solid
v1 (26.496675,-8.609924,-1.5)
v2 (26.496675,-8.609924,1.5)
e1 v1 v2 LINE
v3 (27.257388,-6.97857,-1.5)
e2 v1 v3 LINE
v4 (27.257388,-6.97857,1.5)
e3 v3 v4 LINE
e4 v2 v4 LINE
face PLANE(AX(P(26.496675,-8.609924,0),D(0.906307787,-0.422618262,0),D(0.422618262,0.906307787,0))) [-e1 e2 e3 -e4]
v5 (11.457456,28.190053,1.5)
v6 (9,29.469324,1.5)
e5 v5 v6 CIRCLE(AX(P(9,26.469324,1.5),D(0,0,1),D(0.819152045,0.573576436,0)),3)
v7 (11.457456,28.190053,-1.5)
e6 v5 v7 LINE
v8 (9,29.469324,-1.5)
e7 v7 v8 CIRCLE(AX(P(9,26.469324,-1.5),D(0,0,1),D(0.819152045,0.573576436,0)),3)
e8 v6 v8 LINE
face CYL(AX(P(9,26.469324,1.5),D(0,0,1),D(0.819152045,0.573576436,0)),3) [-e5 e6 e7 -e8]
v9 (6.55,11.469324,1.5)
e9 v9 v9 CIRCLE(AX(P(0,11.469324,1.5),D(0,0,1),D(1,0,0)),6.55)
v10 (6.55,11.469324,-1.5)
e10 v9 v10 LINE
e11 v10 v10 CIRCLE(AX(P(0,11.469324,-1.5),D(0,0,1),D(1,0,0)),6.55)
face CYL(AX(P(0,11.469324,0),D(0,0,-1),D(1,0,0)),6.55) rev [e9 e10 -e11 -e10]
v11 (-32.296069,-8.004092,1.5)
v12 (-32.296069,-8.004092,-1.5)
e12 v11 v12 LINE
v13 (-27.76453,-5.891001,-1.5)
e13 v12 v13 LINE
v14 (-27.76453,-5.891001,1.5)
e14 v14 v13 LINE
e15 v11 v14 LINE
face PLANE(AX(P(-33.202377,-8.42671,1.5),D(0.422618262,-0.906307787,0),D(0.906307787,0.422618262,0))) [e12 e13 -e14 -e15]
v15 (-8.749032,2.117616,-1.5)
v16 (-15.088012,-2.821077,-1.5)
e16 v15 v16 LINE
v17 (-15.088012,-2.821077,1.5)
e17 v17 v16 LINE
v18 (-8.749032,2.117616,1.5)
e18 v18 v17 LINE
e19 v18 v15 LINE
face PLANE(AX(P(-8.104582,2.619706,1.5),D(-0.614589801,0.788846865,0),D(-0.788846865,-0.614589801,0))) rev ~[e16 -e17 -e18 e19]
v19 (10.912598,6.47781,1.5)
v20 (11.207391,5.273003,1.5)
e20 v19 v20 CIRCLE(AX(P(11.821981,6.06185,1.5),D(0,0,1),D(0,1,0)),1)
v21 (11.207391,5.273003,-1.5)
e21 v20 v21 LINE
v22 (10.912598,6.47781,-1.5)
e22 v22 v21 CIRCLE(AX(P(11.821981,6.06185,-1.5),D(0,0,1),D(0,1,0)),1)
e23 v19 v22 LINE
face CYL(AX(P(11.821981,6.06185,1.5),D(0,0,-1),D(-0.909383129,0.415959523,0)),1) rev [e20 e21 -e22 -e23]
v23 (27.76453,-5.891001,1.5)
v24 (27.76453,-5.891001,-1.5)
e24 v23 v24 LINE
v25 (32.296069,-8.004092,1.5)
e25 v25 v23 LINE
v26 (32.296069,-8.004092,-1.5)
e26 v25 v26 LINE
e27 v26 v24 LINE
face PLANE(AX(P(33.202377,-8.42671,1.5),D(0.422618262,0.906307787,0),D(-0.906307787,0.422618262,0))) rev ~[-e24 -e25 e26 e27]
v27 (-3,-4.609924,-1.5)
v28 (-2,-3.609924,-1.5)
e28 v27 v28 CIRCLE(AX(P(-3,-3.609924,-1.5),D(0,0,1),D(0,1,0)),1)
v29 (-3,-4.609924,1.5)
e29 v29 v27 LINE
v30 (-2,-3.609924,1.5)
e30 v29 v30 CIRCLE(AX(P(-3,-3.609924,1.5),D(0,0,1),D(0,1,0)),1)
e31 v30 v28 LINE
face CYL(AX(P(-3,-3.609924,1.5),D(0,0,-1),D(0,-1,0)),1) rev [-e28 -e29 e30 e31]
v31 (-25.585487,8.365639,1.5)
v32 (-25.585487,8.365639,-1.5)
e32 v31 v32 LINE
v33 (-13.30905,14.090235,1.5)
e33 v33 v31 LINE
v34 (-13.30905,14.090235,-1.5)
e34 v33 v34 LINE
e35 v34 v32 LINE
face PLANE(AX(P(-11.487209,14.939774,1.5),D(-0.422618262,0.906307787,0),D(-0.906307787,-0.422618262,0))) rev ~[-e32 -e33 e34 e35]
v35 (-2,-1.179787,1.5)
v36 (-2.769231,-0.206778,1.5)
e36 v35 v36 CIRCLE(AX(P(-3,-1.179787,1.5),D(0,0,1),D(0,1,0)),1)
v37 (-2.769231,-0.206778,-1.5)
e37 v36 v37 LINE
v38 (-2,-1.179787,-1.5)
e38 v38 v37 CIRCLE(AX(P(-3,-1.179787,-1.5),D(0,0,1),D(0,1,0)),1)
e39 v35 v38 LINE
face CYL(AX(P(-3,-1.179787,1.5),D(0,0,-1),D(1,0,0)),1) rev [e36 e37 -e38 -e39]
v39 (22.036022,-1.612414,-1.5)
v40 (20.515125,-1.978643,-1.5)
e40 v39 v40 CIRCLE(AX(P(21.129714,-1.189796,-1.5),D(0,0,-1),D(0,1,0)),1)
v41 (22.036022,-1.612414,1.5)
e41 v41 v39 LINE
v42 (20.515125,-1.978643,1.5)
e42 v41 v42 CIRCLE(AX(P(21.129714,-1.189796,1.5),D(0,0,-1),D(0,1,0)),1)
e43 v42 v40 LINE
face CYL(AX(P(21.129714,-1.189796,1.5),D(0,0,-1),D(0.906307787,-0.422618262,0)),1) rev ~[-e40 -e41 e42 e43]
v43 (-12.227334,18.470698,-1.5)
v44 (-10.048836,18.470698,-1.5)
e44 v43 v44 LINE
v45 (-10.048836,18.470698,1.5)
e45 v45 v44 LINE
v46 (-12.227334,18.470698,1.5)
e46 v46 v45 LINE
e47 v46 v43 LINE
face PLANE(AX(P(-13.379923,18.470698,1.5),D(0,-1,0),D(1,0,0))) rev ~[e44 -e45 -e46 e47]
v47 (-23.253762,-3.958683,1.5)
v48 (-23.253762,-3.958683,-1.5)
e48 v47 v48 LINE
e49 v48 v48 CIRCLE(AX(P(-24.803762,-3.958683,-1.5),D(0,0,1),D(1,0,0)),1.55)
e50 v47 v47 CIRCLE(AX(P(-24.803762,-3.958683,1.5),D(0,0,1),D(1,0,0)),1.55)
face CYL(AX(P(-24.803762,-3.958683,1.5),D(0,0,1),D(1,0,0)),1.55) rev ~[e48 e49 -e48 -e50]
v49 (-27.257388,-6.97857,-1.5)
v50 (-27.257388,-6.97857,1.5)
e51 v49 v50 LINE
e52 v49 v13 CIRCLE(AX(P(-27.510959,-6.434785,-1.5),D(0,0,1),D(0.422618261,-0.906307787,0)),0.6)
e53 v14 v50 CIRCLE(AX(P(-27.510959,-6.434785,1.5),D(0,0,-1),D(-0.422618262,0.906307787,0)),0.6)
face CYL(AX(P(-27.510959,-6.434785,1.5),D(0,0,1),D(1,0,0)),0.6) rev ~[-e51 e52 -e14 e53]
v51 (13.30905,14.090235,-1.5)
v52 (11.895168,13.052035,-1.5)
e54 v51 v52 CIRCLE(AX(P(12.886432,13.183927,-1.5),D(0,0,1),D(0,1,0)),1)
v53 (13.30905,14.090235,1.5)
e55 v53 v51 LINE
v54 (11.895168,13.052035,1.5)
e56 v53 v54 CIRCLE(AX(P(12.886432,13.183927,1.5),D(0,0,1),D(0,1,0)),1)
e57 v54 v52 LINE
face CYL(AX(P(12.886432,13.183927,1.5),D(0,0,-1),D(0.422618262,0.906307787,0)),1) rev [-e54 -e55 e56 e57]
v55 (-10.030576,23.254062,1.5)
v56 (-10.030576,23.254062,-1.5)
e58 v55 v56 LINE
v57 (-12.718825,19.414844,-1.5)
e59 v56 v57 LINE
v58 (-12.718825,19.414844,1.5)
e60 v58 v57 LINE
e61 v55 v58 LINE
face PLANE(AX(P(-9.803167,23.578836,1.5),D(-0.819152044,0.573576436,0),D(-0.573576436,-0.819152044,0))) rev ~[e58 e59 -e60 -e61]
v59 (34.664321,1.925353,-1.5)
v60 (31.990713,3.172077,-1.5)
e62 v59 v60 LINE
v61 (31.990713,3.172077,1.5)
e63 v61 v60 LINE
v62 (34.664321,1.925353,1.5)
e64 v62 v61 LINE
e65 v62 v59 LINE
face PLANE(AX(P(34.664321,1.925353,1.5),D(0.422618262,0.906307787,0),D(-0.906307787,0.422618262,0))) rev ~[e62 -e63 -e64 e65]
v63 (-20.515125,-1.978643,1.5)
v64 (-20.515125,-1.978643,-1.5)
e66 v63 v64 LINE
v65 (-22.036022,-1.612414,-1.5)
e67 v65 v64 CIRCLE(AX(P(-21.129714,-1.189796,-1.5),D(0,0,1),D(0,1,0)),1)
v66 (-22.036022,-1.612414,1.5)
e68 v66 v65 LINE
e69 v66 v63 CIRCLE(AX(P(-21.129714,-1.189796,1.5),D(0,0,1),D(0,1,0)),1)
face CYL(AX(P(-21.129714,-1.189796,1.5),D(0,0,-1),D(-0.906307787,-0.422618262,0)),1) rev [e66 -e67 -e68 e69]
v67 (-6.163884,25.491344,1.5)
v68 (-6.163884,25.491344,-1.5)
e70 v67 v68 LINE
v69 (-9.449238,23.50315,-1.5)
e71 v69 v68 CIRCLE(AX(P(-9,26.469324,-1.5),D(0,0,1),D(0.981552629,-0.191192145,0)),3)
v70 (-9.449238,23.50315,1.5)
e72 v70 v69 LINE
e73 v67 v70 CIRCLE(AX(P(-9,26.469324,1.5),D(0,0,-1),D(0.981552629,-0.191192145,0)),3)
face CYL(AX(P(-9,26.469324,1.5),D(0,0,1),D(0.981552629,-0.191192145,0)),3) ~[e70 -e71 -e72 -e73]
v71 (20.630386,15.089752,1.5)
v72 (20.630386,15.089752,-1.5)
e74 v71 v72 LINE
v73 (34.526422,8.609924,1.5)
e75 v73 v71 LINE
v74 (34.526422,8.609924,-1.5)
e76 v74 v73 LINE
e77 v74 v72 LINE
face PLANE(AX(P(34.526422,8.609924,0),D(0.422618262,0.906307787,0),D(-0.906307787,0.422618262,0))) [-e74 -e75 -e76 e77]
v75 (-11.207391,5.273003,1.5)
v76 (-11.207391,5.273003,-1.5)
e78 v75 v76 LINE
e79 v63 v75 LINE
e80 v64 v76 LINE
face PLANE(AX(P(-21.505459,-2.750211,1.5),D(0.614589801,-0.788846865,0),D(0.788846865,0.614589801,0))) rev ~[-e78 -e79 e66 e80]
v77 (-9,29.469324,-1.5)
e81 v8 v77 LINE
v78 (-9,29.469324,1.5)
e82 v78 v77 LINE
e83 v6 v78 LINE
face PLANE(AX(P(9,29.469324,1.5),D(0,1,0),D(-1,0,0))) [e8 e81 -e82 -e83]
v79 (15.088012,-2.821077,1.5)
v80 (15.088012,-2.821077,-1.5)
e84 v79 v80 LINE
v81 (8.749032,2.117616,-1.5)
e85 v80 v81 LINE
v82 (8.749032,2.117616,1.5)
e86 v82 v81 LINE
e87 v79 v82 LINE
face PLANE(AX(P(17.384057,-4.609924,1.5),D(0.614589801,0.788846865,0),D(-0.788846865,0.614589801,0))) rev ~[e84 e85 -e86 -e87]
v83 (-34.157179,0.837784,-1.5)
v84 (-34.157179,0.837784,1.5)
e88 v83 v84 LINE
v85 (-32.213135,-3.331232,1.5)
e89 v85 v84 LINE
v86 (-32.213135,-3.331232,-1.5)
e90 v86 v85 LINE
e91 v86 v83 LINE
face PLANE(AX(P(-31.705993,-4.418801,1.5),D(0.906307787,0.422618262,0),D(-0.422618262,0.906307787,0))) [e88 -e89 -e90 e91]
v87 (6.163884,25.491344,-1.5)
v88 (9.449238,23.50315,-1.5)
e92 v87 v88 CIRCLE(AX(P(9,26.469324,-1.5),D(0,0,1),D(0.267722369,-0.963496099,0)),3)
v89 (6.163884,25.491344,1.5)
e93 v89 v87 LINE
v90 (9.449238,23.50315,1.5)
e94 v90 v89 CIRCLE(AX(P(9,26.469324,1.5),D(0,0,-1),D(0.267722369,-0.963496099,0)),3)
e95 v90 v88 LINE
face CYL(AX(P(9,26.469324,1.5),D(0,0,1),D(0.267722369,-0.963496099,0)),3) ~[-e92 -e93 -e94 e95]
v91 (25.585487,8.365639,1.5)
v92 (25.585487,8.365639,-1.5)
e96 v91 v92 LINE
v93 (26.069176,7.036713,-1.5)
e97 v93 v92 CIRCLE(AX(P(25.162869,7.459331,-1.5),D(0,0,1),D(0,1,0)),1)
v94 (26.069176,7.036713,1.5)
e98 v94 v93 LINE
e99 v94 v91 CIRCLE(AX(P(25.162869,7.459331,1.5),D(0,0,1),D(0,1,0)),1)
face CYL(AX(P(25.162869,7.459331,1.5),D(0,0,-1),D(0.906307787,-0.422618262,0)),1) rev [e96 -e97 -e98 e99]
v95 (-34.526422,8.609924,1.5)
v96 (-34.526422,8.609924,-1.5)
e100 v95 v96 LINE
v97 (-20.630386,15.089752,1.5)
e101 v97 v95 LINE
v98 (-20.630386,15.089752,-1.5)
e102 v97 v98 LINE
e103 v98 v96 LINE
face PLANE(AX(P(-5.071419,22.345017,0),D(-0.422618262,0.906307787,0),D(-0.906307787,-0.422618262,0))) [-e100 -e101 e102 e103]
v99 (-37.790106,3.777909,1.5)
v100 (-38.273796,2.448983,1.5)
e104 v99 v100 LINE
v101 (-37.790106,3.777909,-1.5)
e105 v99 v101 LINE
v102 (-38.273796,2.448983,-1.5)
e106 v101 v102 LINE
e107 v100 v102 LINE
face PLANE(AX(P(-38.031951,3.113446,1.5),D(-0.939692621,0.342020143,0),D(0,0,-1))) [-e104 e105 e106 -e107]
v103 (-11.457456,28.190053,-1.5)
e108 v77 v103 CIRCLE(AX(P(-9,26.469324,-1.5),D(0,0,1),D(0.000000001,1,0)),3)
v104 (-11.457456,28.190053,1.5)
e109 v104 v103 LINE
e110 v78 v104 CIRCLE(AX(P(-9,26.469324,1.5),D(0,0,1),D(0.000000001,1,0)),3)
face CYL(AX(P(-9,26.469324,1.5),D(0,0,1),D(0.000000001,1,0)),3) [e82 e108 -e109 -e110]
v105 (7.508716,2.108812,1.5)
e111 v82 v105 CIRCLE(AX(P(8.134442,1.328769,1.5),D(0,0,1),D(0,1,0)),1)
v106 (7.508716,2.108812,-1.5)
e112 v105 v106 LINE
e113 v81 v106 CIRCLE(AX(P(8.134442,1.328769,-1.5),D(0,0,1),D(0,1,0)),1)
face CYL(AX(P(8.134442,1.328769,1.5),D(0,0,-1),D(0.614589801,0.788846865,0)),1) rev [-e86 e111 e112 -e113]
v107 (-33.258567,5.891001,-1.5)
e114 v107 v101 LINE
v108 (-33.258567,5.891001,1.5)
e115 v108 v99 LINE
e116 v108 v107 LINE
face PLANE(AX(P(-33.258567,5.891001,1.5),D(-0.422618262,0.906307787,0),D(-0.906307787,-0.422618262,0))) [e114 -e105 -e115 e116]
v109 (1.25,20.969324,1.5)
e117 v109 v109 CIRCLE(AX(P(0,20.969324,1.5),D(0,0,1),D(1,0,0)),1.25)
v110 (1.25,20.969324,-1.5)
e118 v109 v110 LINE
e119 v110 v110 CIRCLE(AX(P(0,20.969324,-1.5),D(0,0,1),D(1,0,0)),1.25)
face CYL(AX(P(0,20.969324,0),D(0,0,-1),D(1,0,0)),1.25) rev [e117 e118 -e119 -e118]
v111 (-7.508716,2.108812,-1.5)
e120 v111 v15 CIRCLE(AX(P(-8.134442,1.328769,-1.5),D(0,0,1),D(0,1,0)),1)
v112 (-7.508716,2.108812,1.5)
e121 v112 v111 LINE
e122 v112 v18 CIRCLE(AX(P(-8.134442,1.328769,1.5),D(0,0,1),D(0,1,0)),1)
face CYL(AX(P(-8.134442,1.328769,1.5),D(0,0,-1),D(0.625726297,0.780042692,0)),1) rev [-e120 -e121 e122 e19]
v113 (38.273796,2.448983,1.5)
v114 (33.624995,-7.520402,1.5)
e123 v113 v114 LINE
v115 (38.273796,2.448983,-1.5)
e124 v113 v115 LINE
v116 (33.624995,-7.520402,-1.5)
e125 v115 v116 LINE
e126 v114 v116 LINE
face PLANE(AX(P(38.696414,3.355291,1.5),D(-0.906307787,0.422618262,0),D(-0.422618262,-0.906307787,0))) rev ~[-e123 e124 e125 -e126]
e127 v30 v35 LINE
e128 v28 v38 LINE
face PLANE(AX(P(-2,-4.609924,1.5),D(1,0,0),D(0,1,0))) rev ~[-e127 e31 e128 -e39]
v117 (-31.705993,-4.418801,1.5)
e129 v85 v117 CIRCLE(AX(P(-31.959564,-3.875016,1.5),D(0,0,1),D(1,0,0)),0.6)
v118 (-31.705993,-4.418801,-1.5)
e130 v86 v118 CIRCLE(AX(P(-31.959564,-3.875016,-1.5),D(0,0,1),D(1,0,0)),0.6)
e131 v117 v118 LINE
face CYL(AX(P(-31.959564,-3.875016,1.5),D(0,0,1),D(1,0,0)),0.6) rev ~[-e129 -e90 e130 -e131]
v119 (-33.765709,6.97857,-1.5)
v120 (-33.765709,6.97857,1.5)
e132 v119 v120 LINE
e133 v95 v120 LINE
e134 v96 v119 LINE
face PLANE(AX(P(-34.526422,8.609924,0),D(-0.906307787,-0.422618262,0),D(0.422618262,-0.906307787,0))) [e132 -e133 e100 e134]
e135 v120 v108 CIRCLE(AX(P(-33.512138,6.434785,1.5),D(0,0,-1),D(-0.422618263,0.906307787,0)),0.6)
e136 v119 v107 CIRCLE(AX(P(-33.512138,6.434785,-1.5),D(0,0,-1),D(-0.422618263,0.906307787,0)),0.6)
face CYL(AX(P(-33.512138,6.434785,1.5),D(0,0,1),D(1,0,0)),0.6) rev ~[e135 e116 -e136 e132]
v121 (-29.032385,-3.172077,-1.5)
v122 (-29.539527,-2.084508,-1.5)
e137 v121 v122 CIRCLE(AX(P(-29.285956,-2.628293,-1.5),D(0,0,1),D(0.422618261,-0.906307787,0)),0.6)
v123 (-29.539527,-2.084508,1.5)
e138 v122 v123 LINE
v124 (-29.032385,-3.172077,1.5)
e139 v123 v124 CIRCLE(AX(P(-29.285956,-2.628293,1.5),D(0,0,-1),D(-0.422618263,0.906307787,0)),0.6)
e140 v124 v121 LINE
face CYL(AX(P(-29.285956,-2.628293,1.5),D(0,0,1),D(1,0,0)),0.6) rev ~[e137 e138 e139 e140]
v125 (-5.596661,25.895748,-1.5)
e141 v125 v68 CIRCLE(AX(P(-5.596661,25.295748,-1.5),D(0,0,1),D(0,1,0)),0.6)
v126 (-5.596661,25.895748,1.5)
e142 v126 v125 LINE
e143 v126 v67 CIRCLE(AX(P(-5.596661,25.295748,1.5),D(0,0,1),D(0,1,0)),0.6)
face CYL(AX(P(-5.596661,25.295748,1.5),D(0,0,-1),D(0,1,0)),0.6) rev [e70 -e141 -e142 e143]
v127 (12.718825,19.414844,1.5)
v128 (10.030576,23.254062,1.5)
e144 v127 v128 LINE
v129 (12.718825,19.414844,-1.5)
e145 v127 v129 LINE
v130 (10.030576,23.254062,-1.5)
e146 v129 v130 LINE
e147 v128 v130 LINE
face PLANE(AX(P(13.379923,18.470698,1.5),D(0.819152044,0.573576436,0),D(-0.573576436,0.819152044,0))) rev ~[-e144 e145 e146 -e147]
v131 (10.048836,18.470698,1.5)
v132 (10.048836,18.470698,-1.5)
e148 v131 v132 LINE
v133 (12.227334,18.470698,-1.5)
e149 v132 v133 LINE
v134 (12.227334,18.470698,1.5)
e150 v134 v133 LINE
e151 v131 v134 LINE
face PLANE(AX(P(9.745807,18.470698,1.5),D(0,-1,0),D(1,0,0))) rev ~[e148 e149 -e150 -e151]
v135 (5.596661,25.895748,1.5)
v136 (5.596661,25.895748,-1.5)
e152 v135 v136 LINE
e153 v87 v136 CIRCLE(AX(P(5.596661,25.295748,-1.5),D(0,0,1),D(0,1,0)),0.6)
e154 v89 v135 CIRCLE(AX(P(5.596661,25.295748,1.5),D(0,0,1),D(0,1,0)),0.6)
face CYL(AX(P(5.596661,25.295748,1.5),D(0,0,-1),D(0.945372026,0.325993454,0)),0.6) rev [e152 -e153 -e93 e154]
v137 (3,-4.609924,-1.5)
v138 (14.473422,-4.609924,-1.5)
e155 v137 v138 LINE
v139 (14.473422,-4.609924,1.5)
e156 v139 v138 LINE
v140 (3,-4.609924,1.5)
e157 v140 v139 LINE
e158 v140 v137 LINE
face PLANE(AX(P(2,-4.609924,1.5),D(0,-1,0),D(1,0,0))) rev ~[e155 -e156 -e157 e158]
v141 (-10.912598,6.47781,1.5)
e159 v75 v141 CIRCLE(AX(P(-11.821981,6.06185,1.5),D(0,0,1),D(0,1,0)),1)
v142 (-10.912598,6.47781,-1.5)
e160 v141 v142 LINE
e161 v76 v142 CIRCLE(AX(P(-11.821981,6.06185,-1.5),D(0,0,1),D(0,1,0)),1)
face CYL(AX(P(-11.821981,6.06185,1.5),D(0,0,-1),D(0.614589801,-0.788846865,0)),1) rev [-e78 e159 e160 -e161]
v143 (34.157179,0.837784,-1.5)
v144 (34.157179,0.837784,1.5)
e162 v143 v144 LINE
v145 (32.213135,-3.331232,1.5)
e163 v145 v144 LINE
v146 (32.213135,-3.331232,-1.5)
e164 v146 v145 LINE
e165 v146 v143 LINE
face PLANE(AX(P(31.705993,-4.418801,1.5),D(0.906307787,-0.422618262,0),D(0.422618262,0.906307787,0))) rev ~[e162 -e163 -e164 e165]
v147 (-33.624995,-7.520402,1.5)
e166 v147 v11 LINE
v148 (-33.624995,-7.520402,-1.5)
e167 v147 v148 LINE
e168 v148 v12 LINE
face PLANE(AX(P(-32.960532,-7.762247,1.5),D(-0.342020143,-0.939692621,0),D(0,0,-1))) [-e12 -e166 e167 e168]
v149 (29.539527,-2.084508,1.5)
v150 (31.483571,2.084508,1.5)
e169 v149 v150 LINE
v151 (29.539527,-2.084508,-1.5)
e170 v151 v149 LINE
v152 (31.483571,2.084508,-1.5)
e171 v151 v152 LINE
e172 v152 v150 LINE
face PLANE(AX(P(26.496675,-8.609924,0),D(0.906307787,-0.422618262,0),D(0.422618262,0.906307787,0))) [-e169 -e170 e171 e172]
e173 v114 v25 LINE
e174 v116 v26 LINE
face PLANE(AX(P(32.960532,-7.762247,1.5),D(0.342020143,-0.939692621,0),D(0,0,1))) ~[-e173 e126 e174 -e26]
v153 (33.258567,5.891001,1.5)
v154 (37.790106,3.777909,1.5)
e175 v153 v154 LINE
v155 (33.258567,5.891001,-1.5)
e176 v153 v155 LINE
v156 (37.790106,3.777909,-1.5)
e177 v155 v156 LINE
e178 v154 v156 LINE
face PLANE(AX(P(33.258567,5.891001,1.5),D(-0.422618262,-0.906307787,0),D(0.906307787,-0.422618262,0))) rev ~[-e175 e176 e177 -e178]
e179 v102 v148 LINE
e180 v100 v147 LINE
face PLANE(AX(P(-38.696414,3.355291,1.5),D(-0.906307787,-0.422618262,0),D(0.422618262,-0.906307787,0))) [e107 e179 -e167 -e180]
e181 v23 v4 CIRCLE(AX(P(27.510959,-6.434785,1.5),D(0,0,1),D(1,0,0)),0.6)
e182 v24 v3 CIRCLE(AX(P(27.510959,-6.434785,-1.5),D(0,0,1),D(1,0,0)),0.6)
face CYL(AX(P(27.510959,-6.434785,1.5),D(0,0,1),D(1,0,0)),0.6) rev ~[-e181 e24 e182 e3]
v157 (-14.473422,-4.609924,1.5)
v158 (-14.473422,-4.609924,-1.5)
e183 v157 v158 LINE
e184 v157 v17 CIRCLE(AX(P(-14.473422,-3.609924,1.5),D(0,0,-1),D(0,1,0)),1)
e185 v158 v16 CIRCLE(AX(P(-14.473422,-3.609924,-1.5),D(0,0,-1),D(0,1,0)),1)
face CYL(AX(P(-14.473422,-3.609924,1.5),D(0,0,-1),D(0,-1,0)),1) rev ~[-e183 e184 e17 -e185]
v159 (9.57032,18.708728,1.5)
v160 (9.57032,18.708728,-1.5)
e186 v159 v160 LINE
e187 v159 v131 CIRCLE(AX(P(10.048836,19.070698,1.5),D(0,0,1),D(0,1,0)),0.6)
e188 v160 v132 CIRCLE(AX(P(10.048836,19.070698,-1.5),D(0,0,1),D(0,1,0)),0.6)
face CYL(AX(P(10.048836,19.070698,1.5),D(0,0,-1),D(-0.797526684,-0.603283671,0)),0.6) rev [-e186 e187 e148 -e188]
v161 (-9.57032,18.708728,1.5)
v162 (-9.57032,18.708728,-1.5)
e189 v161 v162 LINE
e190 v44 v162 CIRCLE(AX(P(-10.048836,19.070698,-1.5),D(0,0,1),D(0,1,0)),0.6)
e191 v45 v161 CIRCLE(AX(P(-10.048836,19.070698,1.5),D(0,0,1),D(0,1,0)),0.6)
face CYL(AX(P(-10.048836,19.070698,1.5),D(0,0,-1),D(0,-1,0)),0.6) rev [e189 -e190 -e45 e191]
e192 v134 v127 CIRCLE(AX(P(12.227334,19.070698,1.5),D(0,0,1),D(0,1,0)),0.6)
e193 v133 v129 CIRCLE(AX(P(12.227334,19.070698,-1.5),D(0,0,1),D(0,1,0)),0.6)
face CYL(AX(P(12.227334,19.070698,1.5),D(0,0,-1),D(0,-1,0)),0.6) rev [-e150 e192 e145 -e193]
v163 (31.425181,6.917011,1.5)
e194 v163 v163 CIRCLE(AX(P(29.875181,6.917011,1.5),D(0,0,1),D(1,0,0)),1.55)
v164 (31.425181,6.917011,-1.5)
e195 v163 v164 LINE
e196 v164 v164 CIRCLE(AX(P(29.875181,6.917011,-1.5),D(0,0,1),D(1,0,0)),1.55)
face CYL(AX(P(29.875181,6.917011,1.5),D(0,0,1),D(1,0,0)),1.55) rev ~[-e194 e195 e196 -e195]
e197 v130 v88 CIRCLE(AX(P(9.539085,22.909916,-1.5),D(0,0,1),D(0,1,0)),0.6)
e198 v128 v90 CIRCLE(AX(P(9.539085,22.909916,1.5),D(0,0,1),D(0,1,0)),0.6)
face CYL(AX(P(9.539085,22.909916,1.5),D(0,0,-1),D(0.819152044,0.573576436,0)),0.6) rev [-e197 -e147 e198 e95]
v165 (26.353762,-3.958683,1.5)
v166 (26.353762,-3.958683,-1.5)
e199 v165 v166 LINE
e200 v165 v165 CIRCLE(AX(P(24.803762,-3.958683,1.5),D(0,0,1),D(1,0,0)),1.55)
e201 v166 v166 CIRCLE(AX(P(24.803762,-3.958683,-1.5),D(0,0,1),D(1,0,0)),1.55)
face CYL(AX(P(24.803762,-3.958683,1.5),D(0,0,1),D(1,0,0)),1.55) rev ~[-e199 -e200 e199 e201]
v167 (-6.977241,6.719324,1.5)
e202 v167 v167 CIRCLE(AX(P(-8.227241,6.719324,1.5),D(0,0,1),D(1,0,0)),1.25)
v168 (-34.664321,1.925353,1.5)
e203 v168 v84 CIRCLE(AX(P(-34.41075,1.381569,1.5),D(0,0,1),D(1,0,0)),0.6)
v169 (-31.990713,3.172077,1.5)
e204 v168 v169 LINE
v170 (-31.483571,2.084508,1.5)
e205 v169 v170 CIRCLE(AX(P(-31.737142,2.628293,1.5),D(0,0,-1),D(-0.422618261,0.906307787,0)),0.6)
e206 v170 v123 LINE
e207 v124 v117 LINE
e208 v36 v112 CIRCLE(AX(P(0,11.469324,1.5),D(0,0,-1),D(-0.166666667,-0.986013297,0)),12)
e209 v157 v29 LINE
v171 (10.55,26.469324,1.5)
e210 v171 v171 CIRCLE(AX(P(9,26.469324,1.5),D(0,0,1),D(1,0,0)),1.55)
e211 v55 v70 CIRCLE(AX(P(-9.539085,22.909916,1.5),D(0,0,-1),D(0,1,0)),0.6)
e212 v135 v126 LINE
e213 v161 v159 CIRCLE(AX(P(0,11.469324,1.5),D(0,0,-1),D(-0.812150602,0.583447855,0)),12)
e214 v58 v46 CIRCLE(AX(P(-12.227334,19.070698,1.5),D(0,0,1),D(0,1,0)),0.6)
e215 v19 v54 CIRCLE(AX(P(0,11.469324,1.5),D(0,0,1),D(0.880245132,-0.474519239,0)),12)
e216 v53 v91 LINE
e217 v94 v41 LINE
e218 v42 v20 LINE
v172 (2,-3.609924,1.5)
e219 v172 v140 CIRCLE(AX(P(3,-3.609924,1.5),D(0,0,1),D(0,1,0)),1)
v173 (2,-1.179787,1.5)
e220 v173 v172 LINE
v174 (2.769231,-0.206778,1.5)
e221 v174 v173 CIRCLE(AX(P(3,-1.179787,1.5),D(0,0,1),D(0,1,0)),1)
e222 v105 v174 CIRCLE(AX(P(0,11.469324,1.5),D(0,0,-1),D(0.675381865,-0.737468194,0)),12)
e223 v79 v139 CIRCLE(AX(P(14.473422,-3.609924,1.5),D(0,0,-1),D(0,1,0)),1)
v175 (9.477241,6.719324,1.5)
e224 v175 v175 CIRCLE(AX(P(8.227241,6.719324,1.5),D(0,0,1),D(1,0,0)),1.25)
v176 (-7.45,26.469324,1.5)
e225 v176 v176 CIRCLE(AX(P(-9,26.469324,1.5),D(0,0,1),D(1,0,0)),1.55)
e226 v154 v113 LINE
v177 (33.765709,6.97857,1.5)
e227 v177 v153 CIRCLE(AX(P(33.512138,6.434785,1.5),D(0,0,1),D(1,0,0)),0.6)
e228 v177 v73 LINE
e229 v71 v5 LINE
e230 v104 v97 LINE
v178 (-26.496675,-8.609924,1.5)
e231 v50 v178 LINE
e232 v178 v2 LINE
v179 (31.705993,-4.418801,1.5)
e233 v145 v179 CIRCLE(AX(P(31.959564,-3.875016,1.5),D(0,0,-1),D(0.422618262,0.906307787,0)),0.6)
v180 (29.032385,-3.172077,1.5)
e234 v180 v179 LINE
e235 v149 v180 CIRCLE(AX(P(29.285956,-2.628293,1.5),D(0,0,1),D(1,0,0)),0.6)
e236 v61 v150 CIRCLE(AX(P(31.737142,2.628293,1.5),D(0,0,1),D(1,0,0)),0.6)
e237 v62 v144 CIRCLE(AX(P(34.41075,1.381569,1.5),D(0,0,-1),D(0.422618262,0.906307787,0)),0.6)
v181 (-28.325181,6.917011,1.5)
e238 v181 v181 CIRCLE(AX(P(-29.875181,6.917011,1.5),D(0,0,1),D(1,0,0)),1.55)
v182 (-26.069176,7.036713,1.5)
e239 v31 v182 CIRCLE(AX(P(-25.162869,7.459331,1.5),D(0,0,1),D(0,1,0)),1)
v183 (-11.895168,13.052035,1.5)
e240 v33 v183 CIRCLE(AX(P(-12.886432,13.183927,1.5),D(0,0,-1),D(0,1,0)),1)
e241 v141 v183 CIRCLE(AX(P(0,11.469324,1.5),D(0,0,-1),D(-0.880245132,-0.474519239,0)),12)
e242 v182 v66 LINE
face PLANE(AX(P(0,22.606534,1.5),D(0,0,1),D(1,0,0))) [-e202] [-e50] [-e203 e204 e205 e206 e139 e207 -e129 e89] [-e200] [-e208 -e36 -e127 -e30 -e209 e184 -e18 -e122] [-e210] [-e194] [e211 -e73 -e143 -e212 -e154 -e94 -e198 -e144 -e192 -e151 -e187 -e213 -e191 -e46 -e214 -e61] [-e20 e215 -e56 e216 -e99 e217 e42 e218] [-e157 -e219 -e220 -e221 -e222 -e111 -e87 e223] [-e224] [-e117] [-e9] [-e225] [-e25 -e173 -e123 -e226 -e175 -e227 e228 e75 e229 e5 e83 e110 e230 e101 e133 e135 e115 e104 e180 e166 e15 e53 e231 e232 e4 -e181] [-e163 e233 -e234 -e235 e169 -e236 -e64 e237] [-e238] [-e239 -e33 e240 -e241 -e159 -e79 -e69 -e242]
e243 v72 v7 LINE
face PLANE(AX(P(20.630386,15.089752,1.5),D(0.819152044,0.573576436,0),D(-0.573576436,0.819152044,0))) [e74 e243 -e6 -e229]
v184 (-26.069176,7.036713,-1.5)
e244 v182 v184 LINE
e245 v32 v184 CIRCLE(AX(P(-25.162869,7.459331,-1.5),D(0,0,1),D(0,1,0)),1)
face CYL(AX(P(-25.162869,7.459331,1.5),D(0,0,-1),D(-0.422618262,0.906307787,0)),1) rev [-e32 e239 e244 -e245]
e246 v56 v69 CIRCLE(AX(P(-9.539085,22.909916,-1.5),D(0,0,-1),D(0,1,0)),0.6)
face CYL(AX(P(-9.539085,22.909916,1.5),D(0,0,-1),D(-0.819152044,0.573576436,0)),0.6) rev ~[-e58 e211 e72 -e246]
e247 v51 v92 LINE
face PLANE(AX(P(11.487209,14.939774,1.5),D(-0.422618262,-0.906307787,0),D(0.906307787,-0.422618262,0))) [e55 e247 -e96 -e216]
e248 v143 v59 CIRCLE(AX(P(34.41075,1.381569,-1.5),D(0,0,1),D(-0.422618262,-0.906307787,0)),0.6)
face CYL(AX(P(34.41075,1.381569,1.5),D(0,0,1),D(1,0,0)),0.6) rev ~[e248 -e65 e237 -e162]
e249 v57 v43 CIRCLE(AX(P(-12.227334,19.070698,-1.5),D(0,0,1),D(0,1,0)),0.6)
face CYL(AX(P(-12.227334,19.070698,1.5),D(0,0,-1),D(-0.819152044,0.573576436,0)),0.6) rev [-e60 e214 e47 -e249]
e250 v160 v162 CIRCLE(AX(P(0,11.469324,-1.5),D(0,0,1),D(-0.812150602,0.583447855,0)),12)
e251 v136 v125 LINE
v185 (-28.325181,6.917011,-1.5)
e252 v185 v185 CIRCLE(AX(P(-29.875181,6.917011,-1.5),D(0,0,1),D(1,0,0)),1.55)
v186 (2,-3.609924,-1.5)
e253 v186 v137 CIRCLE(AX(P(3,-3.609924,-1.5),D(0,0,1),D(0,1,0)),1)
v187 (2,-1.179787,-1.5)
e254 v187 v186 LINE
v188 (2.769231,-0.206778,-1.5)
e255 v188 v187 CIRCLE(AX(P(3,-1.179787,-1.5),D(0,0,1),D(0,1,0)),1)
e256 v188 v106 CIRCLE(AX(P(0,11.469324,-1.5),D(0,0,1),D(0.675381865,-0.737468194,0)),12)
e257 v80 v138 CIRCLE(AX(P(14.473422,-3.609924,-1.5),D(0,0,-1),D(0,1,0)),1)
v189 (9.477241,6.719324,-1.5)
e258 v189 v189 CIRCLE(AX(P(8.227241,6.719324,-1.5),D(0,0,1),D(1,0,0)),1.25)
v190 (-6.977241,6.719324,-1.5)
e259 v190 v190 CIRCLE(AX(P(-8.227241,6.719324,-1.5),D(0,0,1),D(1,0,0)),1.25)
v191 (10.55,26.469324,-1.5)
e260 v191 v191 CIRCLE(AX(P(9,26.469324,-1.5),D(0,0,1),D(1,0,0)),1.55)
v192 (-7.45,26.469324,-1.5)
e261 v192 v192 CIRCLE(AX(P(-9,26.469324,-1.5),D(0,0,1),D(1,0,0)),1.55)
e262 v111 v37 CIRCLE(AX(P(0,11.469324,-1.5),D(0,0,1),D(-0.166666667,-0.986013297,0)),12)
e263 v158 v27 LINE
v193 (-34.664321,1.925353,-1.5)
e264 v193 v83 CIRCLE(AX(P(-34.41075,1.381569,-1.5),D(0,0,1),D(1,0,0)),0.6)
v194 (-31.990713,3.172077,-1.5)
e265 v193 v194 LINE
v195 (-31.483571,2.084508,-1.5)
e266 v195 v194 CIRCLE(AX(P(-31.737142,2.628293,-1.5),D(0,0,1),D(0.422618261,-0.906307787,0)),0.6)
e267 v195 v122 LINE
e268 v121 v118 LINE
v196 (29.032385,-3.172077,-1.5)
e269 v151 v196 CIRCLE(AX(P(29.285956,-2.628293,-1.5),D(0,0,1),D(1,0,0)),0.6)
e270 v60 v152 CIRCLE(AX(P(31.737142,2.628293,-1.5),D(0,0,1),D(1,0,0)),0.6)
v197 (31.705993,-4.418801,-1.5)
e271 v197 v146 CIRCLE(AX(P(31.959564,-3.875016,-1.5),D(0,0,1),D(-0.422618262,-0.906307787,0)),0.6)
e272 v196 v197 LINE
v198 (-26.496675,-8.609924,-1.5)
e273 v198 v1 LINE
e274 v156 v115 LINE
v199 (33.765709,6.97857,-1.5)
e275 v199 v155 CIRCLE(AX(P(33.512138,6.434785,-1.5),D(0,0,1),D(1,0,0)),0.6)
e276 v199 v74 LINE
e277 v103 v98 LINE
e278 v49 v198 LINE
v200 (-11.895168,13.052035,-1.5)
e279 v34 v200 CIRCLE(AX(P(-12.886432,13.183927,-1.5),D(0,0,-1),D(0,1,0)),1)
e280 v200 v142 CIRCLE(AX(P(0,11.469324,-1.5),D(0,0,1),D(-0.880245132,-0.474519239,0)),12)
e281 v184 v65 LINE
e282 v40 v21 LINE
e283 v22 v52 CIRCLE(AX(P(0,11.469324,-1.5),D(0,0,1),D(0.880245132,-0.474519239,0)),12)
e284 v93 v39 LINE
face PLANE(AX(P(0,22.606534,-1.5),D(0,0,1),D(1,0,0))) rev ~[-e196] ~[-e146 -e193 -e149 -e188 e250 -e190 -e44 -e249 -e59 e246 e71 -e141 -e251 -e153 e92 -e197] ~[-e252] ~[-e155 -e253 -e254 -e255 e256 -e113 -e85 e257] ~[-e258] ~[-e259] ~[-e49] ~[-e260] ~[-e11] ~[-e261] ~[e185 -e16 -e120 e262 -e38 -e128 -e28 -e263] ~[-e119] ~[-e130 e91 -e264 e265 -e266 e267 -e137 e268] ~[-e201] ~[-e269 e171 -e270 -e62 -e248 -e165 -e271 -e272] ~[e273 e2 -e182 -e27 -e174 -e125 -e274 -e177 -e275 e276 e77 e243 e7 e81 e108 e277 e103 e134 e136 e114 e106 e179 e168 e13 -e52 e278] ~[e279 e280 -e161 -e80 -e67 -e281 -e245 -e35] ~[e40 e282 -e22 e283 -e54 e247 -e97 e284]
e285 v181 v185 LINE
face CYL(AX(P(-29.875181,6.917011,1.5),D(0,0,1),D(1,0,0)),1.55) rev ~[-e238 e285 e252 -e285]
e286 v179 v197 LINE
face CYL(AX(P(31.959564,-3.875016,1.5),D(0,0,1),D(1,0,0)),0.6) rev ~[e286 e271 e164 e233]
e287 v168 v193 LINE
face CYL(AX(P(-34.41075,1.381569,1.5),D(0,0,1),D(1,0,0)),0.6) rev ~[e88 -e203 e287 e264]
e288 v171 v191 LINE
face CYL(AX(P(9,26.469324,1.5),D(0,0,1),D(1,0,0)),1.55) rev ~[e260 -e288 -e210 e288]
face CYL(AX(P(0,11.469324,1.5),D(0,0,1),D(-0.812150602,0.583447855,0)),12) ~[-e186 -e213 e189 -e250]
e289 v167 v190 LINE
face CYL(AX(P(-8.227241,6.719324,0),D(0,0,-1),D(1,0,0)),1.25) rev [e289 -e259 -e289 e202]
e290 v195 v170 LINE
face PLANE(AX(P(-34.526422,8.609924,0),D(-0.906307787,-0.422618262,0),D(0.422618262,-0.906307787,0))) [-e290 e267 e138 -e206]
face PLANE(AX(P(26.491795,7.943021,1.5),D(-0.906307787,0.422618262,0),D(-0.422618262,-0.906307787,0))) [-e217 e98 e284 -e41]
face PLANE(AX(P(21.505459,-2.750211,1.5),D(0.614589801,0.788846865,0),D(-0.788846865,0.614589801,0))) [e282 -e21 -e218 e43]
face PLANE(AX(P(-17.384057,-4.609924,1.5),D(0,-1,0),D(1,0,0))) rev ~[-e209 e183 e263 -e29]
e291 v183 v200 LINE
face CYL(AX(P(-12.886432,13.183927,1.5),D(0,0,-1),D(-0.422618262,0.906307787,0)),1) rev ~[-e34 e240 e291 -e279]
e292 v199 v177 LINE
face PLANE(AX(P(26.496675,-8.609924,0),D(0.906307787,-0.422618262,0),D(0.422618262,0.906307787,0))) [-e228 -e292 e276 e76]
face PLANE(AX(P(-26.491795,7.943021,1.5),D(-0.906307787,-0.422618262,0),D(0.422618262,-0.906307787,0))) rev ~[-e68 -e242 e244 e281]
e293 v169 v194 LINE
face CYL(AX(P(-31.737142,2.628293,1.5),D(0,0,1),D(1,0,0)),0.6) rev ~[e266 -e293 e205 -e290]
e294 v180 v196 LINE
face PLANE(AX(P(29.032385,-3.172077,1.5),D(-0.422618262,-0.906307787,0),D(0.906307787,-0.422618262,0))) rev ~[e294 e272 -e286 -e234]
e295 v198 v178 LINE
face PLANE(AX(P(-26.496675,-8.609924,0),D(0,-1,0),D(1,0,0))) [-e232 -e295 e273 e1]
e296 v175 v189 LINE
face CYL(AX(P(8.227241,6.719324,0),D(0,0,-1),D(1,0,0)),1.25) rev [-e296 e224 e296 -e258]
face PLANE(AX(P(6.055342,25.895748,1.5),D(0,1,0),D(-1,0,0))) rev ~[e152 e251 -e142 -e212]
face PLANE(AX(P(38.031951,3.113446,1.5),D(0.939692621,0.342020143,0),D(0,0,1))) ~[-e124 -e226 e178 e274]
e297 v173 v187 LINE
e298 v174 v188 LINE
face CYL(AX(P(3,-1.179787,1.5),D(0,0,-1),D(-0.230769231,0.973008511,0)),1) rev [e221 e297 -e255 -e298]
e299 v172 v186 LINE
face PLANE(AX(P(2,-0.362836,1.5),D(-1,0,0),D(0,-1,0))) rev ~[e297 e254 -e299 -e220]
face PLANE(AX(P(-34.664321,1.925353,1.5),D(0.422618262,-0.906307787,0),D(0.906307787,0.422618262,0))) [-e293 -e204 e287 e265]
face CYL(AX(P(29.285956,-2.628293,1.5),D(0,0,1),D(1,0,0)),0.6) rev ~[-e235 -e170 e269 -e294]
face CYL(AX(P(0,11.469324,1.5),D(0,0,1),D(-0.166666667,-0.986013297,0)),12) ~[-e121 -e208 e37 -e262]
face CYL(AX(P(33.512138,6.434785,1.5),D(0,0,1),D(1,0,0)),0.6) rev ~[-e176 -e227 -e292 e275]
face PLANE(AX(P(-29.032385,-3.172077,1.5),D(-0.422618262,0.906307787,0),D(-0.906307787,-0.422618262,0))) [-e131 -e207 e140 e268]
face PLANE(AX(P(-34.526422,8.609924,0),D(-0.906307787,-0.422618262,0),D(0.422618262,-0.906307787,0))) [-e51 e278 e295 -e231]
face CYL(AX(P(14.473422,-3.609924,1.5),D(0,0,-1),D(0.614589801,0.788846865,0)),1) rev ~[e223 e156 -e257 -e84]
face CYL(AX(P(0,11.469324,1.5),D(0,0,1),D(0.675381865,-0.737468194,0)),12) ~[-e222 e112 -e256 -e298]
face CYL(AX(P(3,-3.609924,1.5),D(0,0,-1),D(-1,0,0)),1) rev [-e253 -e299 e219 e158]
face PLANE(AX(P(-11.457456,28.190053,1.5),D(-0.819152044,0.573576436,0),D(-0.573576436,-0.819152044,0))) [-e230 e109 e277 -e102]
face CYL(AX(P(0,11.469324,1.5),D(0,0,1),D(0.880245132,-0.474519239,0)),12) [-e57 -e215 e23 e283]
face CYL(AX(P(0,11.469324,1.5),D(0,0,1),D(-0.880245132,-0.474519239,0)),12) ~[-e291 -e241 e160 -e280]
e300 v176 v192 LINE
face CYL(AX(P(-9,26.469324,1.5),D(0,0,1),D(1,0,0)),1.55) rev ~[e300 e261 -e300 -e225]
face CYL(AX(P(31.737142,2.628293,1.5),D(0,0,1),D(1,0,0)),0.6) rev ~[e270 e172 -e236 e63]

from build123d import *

# Parameters (mm, degrees)
SKETCH_1_R          = 1.25
SKETCH_1_R_2        = 6.55
EXTRUDE_1_DEPTH     = 1.5
EXTRUDE_2_DEPTH     = 3
SKETCH_3_R          = 0.6
CUT_EXTRUDE_1_DEPTH = 4
SKETCH_4_R          = 1.55
CUT_EXTRUDE_2_DEPTH = 4
CUT_EXTRUDE_3_DEPTH = 4
FILLET_1_R          = 1
CHAMFER_1_SIZE      = 1
SKETCH_6_R          = 1.55
EXTRUDE_3_DEPTH     = 3
CUT_EXTRUDE_4_DEPTH = 4
FILLET_2_R          = 0.6


with BuildPart() as part:
    # 草图1 → 凸台-拉伸1 (new body, symmetric)
    with BuildSketch(Plane.XY):
        with BuildLine():
            Line((-34.52642222, 8.609923977), (-26.496675247, -8.609923977))
            Line((-26.496675247, -8.609923977), (26.496675247, -8.609923977))
            Line((26.496675247, -8.609923977), (34.52642222, 8.609923977))
            Line((34.52642222, 8.609923977), (5.071419141, 22.345017483))
            ThreePointArc((5.071419141, 22.345017483), (0, 23.469324039), (-5.071419141, 22.345017483))
            Line((-5.071419141, 22.345017483), (-34.52642222, 8.609923977))
        make_face()
        with Locations((0, 20.969324039)):
            Circle(SKETCH_1_R, mode=Mode.SUBTRACT)
        with Locations((8.227241336, 6.719324039)):
            Circle(SKETCH_1_R, mode=Mode.SUBTRACT)
        with Locations((-8.227241336, 6.719324039)):
            Circle(SKETCH_1_R, mode=Mode.SUBTRACT)
        with Locations((0, 11.469324039)):
            Circle(SKETCH_1_R_2, mode=Mode.SUBTRACT)
    extrude(amount=EXTRUDE_1_DEPTH, both=True)

    # 草图2 → 凸台-拉伸2 (add)
    with BuildSketch(Plane.XY.offset(1.5)):
        Polygon((-33.258567434, 5.891000616), (-38.696414157, 3.355291045), (-33.202376754, -8.426710186), (-27.764530032, -5.891000616), (-29.032384817, -3.172077255), (-31.705992789, -4.418801127), (-34.664320621, 1.925353382), (-31.990712649, 3.172077255), align=None)
        Polygon((38.696414157, 3.355291045), (33.202376754, -8.426710186), (27.764530032, -5.891000616), (29.032384817, -3.172077255), (31.705992789, -4.418801127), (34.664320621, 1.925353382), (31.990712649, 3.172077255), (33.258567434, 5.891000616), align=None)
    extrude(amount=-EXTRUDE_2_DEPTH)

    # 草图3 → 切除-拉伸1 (cut, through all)
    with BuildSketch(Plane.XY.offset(1.5)):
        with Locations((-33.512138391, 6.434785288)):
            Circle(SKETCH_3_R)
        with Locations((-34.410749664, 1.38156871)):
            Circle(SKETCH_3_R)
        with Locations((-31.959563746, -3.875016455)):
            Circle(SKETCH_3_R)
        with Locations((-29.285955774, -2.628292582)):
            Circle(SKETCH_3_R)
        with Locations((-31.737141692, 2.628292582)):
            Circle(SKETCH_3_R)
        with Locations((-27.510959075, -6.434785288)):
            Circle(SKETCH_3_R)
        with Locations((27.510959075, -6.434785288)):
            Circle(SKETCH_3_R)
        with Locations((31.737141692, 2.628292582)):
            Circle(SKETCH_3_R)
        with Locations((29.285955774, -2.628292582)):
            Circle(SKETCH_3_R)
        with Locations((31.959563746, -3.875016455)):
            Circle(SKETCH_3_R)
        with Locations((34.410749664, 1.38156871)):
            Circle(SKETCH_3_R)
        with Locations((33.512138391, 6.434785288)):
            Circle(SKETCH_3_R)
    extrude(amount=-CUT_EXTRUDE_1_DEPTH, mode=Mode.SUBTRACT)

    # 草图4 → 切除-拉伸2 (cut, through all)
    with BuildSketch(Plane.XY.offset(1.5)):
        with Locations((-29.875181049, 6.917010638)):
            Circle(SKETCH_4_R)
        with Locations((-24.803761908, -3.958682806)):
            Circle(SKETCH_4_R)
        with Locations((24.803761908, -3.958682806)):
            Circle(SKETCH_4_R)
        with Locations((29.875181049, 6.917010638)):
            Circle(SKETCH_4_R)
    extrude(amount=-CUT_EXTRUDE_2_DEPTH, mode=Mode.SUBTRACT)

    # 草图5 → 切除-拉伸3 (cut, through all)
    with BuildSketch(Plane.XY.offset(1.5)):
        with BuildLine():
            Line((-11.487209375, 14.939773688), (-26.491794663, 7.943020661))
            Line((-26.491794663, 7.943020661), (-21.50545883, -2.750211042))
            Line((-21.50545883, -2.750211042), (-10.562941581, 5.775093172))
            ThreePointArc((-10.562941581, 5.775093172), (-11.939435981, 10.265219199), (-11.487209375, 14.939773688))
        make_face()
        with BuildLine():
            Line((-17.384057406, -4.609923977), (-2, -4.609923977))
            Line((-2, -4.609923977), (-2, -0.362835527))
            ThreePointArc((-2, -0.362835527), (-5.267782675, 0.687373117), (-8.104582376, 2.619705713))
            Line((-8.104582376, 2.619705713), (-17.384057406, -4.609923977))
        make_face()
        with BuildLine():
            Line((17.384057406, -4.609923977), (8.104582376, 2.619705713))
            ThreePointArc((8.104582376, 2.619705713), (5.267782675, 0.687373117), (2, -0.362835527))
            Line((2, -0.362835527), (2, -4.609923977))
            Line((2, -4.609923977), (17.384057406, -4.609923977))
        make_face()
        with BuildLine():
            Line((21.50545883, -2.750211042), (10.562941581, 5.775093172))
            ThreePointArc((10.562941581, 5.775093172), (11.939435981, 10.265219199), (11.487209375, 14.939773688))
            Line((11.487209375, 14.939773688), (26.491794663, 7.943020661))
            Line((26.491794663, 7.943020661), (21.50545883, -2.750211042))
        make_face()
    extrude(amount=-CUT_EXTRUDE_3_DEPTH, mode=Mode.SUBTRACT)

    # 圆角1
    fillet_1_edges = [part.edges().sort_by_distance(p)[0] for p in [
        (-2, -0.362835527, 0),
        (-2, -4.609923977, 0),
        (-17.384057406, -4.609923977, 0),
        (-8.104582376, 2.619705713, 0),
        (17.384057406, -4.609923977, 0),
        (2, -4.609923977, 0),
        (2, -0.362835527, 0),
        (8.104582376, 2.619705713, 0),
        (10.562941581, 5.775093172, 0),
        (11.487209375, 14.939773688, 0),
        (26.491794663, 7.943020661, 0),
        (21.50545883, -2.750211042, 0),
        (-21.50545883, -2.750211042, 0),
        (-26.491794663, 7.943020661, 0),
        (-11.487209375, 14.939773688, 0),
        (-10.562941581, 5.775093172, 0),
    ]]
    fillet(fillet_1_edges, radius=FILLET_1_R)

    # 倒角1
    chamfer_1_edges = [part.edges().sort_by_distance(p)[0] for p in [
        (-33.202376754, -8.426710186, 0),
        (-38.696414157, 3.355291045, 0),
        (38.696414157, 3.355291045, 0),
        (33.202376754, -8.426710186, 0),
    ]]
    chamfer(chamfer_1_edges, length=CHAMFER_1_SIZE)

    # 草图6 → 凸台-拉伸3 (add)
    with BuildSketch(Plane.XY.offset(1.5)):
        with BuildLine():
            Line((-11.457456133, 28.190053348), (-20.630385749, 15.089752201))
            Line((-20.630385749, 15.089752201), (-5.071419141, 22.345017483))
            ThreePointArc((-5.071419141, 22.345017483), (0, 23.469324039), (5.071419141, 22.345017483))
            Line((5.071419141, 22.345017483), (20.630385749, 15.089752201))
            Line((20.630385749, 15.089752201), (11.457456133, 28.190053348))
            ThreePointArc((11.457456133, 28.190053348), (10.38524584, 29.130356539), (9, 29.469324039))
            Line((9, 29.469324039), (-9, 29.469324039))
            ThreePointArc((-9, 29.469324039), (-10.38524584, 29.130356539), (-11.457456133, 28.190053348))
        make_face()
        with Locations((-9, 26.469324039)):
            Circle(SKETCH_6_R, mode=Mode.SUBTRACT)
        with Locations((9, 26.469324039)):
            Circle(SKETCH_6_R, mode=Mode.SUBTRACT)
    extrude(amount=-EXTRUDE_3_DEPTH)

    # 草图7 → 切除-拉伸4 (cut, through all)
    with BuildSketch(Plane.XY.offset(1.5)):
        with BuildLine():
            Line((-9.803167106, 23.578835741), (-13.379923452, 18.470698295))
            Line((-13.379923452, 18.470698295), (-9.745807228, 18.470698295))
            ThreePointArc((-9.745807228, 18.470698295), (0, 23.469324039), (9.745807228, 18.470698295))
            Line((9.745807228, 18.470698295), (13.379923452, 18.470698295))
            Line((13.379923452, 18.470698295), (9.803167106, 23.578835741))
            ThreePointArc((9.803167106, 23.578835741), (7.422496962, 23.917563046), (6.055342113, 25.895747603))
            Line((6.055342113, 25.895747603), (-6.055342113, 25.895747603))
            ThreePointArc((-6.055342113, 25.895747603), (-7.422496962, 23.917563046), (-9.803167106, 23.578835741))
        make_face()
    extrude(amount=-CUT_EXTRUDE_4_DEPTH, mode=Mode.SUBTRACT)

    # 圆角2
    fillet_2_edges = [part.edges().sort_by_distance(p)[0] for p in [
        (-9.803167106, 23.578835741, 0),
        (-6.055342113, 25.895747603, 0),
        (6.055342113, 25.895747603, 0),
        (9.803167106, 23.578835741, 0),
        (13.379923452, 18.470698295, 0),
        (9.745807228, 18.470698295, 0),
        (-9.745807228, 18.470698295, 0),
        (-13.379923452, 18.470698295, 0),
    ]]
    fillet(fillet_2_edges, radius=FILLET_2_R)


solid = part.part
